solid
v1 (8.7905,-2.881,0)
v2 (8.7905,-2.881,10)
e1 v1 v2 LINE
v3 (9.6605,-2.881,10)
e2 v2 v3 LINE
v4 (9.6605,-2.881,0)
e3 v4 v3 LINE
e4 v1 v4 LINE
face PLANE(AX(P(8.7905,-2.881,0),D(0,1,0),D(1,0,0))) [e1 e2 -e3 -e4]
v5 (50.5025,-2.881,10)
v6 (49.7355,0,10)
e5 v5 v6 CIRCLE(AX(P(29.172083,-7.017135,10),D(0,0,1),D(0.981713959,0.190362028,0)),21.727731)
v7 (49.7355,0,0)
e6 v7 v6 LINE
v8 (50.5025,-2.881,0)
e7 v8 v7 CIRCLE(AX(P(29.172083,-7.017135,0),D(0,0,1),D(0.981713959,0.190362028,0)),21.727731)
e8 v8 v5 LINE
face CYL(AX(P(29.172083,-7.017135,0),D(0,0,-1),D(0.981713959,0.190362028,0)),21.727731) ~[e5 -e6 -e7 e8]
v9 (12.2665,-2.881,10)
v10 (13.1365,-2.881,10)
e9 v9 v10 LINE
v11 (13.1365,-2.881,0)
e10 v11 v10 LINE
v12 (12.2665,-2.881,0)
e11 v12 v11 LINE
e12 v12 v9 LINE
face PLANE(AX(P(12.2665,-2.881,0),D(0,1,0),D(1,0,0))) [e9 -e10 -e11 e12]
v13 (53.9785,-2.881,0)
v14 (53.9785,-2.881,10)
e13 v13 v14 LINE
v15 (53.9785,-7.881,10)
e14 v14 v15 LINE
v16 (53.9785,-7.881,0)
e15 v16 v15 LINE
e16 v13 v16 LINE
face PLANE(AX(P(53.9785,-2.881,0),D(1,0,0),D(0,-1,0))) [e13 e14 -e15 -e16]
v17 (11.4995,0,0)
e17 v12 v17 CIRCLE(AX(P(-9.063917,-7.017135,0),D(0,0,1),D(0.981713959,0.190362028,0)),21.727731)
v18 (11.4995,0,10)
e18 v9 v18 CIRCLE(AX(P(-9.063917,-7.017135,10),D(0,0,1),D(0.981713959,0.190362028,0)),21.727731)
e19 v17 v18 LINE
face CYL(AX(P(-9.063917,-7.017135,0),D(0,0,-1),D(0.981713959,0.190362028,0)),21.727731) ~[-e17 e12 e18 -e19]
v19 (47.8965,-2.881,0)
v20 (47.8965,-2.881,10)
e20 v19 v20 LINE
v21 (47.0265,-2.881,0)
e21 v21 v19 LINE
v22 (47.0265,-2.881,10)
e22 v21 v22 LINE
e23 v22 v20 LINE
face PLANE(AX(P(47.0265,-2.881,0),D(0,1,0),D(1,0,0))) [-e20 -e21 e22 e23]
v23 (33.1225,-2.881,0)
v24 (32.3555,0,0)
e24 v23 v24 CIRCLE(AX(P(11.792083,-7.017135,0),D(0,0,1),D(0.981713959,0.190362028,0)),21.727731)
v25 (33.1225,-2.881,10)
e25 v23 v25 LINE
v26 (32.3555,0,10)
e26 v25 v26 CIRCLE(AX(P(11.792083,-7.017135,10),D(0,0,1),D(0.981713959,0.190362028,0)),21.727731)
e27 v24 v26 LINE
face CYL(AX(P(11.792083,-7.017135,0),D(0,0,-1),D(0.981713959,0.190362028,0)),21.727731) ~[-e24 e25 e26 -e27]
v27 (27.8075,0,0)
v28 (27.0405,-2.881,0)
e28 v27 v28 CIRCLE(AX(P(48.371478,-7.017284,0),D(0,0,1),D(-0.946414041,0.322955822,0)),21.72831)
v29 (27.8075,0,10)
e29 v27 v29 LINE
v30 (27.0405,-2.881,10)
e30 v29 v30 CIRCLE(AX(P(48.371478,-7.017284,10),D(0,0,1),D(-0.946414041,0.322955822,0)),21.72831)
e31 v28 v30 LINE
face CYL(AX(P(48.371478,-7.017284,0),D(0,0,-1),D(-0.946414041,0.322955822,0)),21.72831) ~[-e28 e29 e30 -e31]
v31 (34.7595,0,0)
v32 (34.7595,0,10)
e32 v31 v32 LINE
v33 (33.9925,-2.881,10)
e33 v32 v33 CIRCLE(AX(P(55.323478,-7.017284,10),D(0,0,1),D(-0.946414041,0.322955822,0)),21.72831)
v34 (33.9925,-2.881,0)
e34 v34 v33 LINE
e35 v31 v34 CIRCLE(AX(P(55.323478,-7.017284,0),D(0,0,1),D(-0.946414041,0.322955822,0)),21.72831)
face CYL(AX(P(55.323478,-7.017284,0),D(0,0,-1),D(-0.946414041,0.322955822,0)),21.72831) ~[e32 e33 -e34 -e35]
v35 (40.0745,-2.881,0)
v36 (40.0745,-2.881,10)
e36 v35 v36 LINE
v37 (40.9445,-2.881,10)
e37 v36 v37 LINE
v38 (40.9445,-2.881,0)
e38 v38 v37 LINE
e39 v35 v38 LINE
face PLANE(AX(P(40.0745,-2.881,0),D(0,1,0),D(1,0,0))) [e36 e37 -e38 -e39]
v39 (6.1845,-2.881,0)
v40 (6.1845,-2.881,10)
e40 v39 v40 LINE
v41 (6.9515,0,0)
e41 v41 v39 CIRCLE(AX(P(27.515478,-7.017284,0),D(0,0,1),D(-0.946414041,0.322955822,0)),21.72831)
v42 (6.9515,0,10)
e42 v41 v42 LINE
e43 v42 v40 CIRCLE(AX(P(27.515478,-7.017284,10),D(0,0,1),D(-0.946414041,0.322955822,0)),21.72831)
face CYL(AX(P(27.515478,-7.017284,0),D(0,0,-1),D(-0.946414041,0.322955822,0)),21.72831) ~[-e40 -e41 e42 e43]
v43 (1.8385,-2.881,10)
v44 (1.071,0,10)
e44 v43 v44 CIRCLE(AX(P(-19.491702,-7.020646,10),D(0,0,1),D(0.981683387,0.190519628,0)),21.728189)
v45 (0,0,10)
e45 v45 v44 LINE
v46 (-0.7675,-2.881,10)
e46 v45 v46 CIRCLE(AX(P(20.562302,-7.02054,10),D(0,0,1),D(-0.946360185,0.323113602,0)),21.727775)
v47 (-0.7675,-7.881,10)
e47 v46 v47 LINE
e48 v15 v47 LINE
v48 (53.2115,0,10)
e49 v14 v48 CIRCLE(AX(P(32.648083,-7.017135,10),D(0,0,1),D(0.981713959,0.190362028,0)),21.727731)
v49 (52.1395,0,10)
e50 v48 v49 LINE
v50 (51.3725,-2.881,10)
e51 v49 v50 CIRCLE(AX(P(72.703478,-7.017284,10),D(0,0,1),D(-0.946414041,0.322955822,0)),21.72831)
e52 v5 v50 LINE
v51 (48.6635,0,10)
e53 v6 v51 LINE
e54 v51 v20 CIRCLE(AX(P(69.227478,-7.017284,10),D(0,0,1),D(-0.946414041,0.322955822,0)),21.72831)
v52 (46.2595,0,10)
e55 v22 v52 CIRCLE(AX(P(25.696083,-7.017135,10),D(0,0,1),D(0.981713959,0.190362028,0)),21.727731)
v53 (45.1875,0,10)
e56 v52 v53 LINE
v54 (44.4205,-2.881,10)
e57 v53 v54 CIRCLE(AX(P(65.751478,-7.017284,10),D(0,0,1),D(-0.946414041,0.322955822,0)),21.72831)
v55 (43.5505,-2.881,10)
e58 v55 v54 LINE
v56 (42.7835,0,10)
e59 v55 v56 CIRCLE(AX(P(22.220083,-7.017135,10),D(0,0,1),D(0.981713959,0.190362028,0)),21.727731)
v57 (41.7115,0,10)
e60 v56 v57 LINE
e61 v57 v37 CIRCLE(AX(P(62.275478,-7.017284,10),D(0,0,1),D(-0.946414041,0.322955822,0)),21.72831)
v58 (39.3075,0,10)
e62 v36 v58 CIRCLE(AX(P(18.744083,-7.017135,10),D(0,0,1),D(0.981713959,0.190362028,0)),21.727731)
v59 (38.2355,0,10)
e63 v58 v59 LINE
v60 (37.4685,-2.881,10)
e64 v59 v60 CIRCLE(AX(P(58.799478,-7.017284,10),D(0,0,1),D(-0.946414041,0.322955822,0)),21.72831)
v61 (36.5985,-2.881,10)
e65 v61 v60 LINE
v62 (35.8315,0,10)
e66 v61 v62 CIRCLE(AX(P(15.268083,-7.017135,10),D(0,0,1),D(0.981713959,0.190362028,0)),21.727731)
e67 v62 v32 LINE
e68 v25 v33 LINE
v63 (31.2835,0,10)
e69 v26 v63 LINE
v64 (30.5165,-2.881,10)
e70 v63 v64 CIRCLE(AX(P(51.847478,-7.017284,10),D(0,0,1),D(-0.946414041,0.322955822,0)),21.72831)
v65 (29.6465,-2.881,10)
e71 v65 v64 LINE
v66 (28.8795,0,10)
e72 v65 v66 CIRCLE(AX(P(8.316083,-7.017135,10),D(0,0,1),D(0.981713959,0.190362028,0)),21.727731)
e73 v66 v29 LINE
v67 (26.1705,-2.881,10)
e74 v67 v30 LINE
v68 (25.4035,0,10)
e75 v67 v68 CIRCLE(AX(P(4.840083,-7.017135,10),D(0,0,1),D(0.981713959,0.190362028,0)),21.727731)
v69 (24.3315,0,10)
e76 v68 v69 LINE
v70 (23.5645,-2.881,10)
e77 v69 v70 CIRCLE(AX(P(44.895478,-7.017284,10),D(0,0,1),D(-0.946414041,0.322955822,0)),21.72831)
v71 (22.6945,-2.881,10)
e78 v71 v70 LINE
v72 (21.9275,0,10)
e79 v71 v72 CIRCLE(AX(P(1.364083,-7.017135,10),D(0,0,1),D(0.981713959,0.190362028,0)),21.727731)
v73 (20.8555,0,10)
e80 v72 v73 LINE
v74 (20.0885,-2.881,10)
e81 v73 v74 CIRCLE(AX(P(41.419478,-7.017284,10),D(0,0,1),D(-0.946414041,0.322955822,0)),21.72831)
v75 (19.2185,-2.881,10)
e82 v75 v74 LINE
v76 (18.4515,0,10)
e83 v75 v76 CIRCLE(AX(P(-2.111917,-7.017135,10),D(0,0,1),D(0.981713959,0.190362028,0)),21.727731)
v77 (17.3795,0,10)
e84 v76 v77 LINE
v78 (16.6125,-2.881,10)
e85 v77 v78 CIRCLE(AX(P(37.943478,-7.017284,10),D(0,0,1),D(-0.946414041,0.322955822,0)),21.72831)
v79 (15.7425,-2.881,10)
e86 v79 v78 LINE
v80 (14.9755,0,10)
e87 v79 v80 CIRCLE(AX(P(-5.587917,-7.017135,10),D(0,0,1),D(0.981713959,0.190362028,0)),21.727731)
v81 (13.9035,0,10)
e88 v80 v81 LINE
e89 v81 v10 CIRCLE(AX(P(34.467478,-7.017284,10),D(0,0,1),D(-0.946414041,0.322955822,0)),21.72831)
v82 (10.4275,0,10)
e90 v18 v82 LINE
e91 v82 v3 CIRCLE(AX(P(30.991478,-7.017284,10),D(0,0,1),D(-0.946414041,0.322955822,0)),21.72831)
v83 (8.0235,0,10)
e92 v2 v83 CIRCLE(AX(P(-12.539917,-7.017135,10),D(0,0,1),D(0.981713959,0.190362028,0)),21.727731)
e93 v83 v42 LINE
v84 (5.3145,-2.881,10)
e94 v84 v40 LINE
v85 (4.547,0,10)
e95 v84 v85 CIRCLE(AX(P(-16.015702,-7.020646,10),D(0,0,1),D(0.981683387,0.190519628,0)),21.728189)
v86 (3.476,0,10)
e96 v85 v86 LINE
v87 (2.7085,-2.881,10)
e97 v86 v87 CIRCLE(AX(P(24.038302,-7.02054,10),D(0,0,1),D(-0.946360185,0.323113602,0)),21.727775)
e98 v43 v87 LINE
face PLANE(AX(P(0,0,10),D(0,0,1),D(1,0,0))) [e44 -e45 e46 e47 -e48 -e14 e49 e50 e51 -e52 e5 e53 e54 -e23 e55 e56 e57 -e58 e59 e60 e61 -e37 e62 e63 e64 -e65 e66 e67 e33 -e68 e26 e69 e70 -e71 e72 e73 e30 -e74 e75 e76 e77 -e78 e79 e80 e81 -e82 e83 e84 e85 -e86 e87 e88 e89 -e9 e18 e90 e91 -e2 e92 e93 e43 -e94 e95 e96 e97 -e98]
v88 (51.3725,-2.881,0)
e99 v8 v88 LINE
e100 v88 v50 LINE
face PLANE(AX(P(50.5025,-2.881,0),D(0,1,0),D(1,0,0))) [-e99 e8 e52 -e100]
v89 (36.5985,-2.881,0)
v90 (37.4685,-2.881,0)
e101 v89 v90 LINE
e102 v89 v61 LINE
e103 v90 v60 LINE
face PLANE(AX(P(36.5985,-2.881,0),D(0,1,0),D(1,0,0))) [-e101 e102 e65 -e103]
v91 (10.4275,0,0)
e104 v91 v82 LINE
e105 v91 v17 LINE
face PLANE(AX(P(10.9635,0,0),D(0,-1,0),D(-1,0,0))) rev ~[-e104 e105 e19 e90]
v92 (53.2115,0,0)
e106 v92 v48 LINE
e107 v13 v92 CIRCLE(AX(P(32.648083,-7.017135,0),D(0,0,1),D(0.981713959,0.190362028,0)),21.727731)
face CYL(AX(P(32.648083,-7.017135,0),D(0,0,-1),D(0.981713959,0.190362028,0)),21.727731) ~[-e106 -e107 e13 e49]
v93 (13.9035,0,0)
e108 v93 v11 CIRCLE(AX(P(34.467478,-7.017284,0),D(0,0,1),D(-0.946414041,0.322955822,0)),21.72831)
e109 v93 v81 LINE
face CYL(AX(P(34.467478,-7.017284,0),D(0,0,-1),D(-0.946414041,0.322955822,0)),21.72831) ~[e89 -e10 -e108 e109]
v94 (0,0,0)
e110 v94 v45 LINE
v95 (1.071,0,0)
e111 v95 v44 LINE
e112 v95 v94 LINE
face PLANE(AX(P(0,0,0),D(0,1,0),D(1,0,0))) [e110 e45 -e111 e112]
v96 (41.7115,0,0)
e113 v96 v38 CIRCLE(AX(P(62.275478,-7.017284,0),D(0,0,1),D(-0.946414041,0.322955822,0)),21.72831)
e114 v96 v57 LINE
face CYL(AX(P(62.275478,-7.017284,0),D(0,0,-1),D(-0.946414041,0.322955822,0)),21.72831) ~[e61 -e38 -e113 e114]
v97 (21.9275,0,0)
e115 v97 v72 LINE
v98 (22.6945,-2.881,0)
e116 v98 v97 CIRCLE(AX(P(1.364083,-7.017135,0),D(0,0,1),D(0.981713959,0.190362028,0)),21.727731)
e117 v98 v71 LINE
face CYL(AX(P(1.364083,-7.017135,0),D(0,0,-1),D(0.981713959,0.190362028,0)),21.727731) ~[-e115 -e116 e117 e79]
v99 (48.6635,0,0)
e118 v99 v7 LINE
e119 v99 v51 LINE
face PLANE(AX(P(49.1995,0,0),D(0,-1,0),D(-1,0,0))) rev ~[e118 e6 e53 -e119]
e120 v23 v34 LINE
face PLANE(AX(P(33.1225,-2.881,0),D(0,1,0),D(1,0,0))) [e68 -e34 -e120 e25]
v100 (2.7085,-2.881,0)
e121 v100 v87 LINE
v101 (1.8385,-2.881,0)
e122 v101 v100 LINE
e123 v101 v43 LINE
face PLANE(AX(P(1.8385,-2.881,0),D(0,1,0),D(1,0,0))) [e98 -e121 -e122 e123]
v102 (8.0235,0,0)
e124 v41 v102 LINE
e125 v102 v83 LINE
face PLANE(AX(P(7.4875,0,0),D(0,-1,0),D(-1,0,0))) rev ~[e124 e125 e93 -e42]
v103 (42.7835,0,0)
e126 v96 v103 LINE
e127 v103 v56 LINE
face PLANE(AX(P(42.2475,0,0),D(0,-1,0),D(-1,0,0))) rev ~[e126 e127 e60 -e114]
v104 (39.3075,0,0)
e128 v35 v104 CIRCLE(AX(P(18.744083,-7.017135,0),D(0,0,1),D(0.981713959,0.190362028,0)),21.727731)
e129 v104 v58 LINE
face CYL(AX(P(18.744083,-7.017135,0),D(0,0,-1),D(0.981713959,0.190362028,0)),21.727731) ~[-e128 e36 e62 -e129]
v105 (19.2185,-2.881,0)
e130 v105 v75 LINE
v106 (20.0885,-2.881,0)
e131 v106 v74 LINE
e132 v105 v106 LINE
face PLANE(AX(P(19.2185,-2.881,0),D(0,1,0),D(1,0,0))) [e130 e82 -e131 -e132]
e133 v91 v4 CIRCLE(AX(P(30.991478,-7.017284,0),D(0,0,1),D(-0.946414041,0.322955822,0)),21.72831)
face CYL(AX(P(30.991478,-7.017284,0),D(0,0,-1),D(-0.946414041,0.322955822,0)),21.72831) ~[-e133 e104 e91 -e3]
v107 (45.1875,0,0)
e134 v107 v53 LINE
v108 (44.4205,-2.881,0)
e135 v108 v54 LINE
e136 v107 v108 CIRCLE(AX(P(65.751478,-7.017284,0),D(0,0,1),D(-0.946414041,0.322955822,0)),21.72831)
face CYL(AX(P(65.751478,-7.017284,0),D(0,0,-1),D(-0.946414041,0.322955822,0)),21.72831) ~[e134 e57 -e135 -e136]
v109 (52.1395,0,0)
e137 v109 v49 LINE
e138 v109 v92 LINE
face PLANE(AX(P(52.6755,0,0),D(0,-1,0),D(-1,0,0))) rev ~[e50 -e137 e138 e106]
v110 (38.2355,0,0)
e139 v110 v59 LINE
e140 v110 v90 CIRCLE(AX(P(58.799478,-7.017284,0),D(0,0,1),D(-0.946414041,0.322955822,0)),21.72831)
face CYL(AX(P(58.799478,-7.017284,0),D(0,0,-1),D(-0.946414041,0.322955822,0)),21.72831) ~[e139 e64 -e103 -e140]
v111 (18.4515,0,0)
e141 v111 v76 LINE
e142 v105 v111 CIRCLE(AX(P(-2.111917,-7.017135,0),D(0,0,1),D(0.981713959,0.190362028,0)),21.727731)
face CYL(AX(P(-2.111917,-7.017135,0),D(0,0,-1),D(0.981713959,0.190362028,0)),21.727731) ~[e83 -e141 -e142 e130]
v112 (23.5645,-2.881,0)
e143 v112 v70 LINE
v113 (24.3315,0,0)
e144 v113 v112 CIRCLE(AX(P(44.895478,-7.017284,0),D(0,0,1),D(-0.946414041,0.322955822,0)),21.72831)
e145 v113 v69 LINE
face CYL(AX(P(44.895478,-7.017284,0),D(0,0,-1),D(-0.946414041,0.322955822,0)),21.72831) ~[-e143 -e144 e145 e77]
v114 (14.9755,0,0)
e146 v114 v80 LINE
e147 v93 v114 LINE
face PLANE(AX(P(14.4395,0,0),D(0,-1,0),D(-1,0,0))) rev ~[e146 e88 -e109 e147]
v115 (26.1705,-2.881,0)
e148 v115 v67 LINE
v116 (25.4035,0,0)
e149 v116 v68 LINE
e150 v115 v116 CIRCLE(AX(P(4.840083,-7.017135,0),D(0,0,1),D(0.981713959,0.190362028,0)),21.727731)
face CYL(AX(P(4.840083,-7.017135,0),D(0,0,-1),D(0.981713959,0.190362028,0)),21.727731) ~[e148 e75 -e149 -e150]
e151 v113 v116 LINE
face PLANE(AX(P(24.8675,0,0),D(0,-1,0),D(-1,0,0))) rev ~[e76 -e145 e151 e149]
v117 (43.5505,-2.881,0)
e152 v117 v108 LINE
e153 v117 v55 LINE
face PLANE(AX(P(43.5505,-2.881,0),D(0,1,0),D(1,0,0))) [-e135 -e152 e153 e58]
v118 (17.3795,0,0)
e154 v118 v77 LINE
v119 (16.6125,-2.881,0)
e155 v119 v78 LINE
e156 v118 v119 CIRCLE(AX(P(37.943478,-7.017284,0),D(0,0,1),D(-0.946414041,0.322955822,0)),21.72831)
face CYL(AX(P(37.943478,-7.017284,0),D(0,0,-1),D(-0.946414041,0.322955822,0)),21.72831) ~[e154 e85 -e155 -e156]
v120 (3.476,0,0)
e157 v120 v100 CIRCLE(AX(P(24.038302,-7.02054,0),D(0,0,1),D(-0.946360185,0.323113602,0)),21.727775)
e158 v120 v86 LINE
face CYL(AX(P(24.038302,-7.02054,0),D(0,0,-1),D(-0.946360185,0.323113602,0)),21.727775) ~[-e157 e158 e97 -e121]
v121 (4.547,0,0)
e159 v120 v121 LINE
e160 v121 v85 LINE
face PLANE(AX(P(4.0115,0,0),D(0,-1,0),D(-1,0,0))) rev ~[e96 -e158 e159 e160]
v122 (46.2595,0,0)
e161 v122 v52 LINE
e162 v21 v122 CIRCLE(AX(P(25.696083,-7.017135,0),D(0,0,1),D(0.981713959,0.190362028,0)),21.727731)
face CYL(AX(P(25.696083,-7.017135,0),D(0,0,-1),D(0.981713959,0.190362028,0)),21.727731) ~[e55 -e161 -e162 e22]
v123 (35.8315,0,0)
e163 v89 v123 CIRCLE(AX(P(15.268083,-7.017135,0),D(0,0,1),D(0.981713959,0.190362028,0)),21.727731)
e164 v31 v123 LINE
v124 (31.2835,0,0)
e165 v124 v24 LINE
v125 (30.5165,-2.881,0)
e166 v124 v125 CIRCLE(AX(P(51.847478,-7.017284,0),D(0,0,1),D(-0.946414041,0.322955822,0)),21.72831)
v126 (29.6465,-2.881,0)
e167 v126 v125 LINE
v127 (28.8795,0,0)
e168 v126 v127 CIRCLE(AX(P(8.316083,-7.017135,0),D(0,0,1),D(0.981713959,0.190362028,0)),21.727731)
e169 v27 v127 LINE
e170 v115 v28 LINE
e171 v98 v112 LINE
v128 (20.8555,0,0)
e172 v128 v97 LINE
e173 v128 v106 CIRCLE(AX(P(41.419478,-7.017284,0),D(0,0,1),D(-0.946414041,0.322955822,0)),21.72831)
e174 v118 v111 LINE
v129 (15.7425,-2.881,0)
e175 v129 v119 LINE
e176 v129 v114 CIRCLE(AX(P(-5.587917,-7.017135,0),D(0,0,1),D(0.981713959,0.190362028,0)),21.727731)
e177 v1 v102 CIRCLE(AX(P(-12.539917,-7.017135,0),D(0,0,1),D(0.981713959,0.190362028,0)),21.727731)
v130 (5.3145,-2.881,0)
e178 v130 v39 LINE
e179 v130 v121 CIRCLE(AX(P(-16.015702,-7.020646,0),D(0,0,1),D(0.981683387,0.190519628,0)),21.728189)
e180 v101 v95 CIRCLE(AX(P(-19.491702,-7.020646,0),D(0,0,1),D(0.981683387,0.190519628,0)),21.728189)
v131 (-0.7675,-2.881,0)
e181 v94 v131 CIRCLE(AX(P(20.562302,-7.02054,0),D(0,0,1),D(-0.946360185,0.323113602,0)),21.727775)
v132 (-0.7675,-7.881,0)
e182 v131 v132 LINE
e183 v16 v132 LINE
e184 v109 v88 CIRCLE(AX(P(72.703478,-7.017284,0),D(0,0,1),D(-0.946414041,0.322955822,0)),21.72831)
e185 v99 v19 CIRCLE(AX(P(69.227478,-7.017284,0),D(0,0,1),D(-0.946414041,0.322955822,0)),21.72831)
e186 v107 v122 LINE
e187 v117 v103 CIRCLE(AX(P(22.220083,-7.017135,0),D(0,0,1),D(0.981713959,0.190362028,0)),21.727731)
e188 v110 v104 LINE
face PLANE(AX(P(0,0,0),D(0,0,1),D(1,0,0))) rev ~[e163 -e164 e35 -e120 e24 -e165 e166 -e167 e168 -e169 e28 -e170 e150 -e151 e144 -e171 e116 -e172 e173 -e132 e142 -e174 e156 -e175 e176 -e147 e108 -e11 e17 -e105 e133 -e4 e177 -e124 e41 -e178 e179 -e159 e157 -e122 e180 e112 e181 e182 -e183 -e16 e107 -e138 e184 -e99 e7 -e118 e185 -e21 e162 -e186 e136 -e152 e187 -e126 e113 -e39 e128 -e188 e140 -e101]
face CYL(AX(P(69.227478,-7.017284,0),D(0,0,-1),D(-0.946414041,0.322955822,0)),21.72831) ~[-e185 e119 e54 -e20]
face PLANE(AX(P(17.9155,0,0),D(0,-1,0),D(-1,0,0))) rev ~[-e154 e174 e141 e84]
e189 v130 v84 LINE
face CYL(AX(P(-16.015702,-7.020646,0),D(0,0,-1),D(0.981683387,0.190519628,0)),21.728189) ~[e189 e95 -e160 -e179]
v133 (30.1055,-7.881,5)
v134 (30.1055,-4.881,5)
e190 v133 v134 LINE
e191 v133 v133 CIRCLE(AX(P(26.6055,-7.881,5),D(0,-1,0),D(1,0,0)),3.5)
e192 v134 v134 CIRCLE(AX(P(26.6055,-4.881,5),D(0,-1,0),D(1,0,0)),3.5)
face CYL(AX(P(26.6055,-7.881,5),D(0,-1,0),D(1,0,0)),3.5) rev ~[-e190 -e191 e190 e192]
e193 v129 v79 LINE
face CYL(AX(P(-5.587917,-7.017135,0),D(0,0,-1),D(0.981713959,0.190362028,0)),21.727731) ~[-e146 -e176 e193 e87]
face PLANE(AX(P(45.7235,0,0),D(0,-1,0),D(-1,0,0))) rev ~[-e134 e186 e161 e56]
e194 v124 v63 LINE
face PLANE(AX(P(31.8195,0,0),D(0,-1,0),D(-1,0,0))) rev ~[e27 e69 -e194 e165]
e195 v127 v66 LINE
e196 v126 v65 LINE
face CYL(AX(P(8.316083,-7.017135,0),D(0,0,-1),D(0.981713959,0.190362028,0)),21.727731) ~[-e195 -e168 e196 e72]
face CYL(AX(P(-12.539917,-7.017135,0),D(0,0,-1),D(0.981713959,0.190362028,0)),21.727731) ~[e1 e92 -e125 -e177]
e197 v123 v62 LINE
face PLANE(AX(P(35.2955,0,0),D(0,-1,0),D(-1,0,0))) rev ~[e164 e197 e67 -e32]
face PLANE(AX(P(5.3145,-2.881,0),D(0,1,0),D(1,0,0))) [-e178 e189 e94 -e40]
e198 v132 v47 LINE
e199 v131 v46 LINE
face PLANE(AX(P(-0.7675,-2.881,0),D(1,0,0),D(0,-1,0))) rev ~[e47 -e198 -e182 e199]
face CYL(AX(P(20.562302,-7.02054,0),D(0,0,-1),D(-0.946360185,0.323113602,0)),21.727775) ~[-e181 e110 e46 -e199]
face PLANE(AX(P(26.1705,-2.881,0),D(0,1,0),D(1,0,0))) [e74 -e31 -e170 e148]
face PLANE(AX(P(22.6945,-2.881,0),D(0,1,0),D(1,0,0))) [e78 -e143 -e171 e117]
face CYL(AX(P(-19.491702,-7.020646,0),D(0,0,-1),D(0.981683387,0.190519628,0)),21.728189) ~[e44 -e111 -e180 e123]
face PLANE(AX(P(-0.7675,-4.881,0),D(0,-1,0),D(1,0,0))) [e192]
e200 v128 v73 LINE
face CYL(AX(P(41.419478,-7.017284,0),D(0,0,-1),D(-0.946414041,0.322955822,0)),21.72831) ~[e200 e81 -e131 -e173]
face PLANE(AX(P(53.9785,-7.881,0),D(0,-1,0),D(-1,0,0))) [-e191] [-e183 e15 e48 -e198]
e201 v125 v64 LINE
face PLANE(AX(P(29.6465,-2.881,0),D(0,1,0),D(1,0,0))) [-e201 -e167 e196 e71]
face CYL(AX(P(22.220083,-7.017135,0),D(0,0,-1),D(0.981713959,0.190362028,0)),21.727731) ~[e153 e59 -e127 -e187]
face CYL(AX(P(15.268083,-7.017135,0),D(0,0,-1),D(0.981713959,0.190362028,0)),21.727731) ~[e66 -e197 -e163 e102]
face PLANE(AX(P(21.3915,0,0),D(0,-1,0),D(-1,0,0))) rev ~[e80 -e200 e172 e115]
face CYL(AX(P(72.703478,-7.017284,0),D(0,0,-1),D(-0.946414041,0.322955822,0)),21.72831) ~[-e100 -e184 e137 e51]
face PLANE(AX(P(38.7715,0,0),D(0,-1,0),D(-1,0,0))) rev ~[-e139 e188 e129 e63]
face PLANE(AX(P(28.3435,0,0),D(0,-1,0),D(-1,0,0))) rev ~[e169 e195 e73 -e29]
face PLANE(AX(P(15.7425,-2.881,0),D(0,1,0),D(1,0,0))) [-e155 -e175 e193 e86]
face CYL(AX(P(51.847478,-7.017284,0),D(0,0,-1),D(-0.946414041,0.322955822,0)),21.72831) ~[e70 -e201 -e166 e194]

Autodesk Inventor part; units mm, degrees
ref_plane "YZ Plane" through (0, 0, 0) normal (1, 0, 0) x (0, 1, 0)
ref_plane "XZ Plane" through (0, 0, 0) normal (0, 1, 0) x (-1, 0, 0)
ref_plane "XY Plane" through (0, 0, 0) normal (0, 0, 1) x (1, 0, 0)
sketch "Sketch1" plane through (0, 0, 0) normal (0, 0, 1) x (1, 0, 0)
  line L0 (0, 0) -> (1.071, 0)
  line L1 (0.5355, 0) -> (0.5355, -2.881)
  line L2 (0.5355, -2.881) -> (1.8385, -2.881)
  line L3 (1.8385, -2.881) -> (0.5355, -2.881)
  line L4 (0.5355, -2.881) -> (-0.7675, -2.881)
  arc A0 (0, 0) -> (-0.7675, -2.881) centre (20.5625, -7.0206) ccw
  arc A1 (1.8385, -2.881) -> (1.071, 0) centre (-19.4915, -7.0206) ccw
  line L5 (1.8385, -2.881) -> (2.7085, -2.881)
  line L6 (2.7085, -2.881) -> (5.3145, -2.881)
  line L7 (4.0115, -2.881) -> (4.0115, 0)
  line L8 (4.0115, 0) -> (3.476, 0)
  line L9 (4.0115, 0) -> (4.547, 0)
  arc A2 (3.476, 0) -> (2.7085, -2.881) centre (24.0385, -7.0206) ccw
  arc A3 (5.3145, -2.881) -> (4.547, 0) centre (-16.0155, -7.0206) ccw
  line L10 (5.3145, -2.881) -> (6.1845, -2.881)
  line L11 (6.1845, -2.881) -> (8.7905, -2.881)
  line L12 (7.4875, -2.881) -> (7.4875, 0)
  line L13 (7.4875, 0) -> (6.9515, 0)
  line L14 (7.4875, 0) -> (8.0235, 0)
  arc A4 (6.9515, 0) -> (6.1845, -2.881) centre (27.5152, -7.0172) ccw
  arc A5 (8.7905, -2.881) -> (8.0235, 0) centre (-12.5402, -7.0172) ccw
  line L15 (8.7905, -2.881) -> (9.6605, -2.881)
  line L16 (9.6605, -2.881) -> (12.2665, -2.881)
  line L17 (10.9635, -2.881) -> (10.9635, 0)
  line L18 (10.9635, 0) -> (10.4275, 0)
  line L19 (10.9635, 0) -> (11.4995, 0)
  arc A6 (10.4275, 0) -> (9.6605, -2.881) centre (30.9912, -7.0172) ccw
  arc A7 (12.2665, -2.881) -> (11.4995, 0) centre (-9.0642, -7.0172) ccw
  line L20 (-0.7675, -2.881) -> (-0.7675, -7.881)
  line L21 (12.2665, -2.881) -> (13.1365, -2.881)
  line L22 (13.1365, -2.881) -> (15.7425, -2.881)
  line L23 (14.4395, -2.881) -> (14.4395, 0)
  line L24 (14.4395, 0) -> (13.9035, 0)
  line L25 (14.4395, 0) -> (14.9755, 0)
  arc A8 (13.9035, 0) -> (13.1365, -2.881) centre (34.4672, -7.0172) ccw
  arc A9 (15.7425, -2.881) -> (14.9755, 0) centre (-5.5882, -7.0172) ccw
  line L26 (15.7425, -2.881) -> (16.6125, -2.881)
  line L27 (16.6125, -2.881) -> (19.2185, -2.881)
  line L28 (17.9155, -2.881) -> (17.9155, 0)
  line L29 (17.9155, 0) -> (17.3795, 0)
  line L30 (17.9155, 0) -> (18.4515, 0)
  arc A10 (17.3795, 0) -> (16.6125, -2.881) centre (37.9432, -7.0172) ccw
  arc A11 (19.2185, -2.881) -> (18.4515, 0) centre (-2.1122, -7.0172) ccw
  line L31 (19.2185, -2.881) -> (20.0885, -2.881)
  line L32 (20.0885, -2.881) -> (22.6945, -2.881)
  line L33 (21.3915, -2.881) -> (21.3915, 0)
  line L34 (21.3915, 0) -> (20.8555, 0)
  line L35 (21.3915, 0) -> (21.9275, 0)
  arc A12 (20.8555, 0) -> (20.0885, -2.881) centre (41.4192, -7.0172) ccw
  arc A13 (22.6945, -2.881) -> (21.9275, 0) centre (1.3638, -7.0172) ccw
  line L36 (22.6945, -2.881) -> (23.5645, -2.881)
  line L37 (23.5645, -2.881) -> (26.1705, -2.881)
  line L38 (24.8675, -2.881) -> (24.8675, 0)
  line L39 (24.8675, 0) -> (24.3315, 0)
  line L40 (24.8675, 0) -> (25.4035, 0)
  arc A14 (24.3315, 0) -> (23.5645, -2.881) centre (44.8952, -7.0172) ccw
  arc A15 (26.1705, -2.881) -> (25.4035, 0) centre (4.8398, -7.0172) ccw
  line L41 (26.1705, -2.881) -> (27.0405, -2.881)
  line L42 (27.0405, -2.881) -> (29.6465, -2.881)
  line L43 (29.6465, -2.881) -> (30.5165, -2.881)
  line L44 (30.5165, -2.881) -> (33.1225, -2.881)
  line L45 (33.1225, -2.881) -> (33.9925, -2.881)
  line L46 (33.9925, -2.881) -> (36.5985, -2.881)
  line L47 (36.5985, -2.881) -> (37.4685, -2.881)
  line L48 (37.4685, -2.881) -> (40.0745, -2.881)
  line L49 (40.0745, -2.881) -> (40.9445, -2.881)
  line L50 (40.9445, -2.881) -> (43.5505, -2.881)
  line L51 (43.5505, -2.881) -> (44.4205, -2.881)
  line L52 (44.4205, -2.881) -> (47.0265, -2.881)
  line L53 (47.0265, -2.881) -> (47.8965, -2.881)
  line L54 (47.8965, -2.881) -> (50.5025, -2.881)
  line L55 (50.5025, -2.881) -> (51.3725, -2.881)
  line L56 (51.3725, -2.881) -> (53.9785, -2.881)
  line L57 (53.9785, -2.881) -> (53.9785, -7.881)
  line L58 (53.9785, -7.881) -> (-0.7675, -7.881)
  line L59 (28.3435, -2.881) -> (28.3435, 0)
  line L60 (31.8195, -2.881) -> (31.8195, 0)
  line L61 (31.8195, 0) -> (31.2835, 0)
  line L62 (35.2955, -2.881) -> (35.2955, 0)
  line L63 (35.2955, 0) -> (34.7595, 0)
  line L64 (38.7715, -2.881) -> (38.7715, 0)
  line L65 (38.7715, 0) -> (38.2355, 0)
  line L66 (42.2475, -2.881) -> (42.2475, 0)
  line L67 (42.2475, 0) -> (41.7115, 0)
  line L68 (45.7235, -2.881) -> (45.7235, 0)
  line L69 (45.7235, 0) -> (45.1875, 0)
  line L70 (49.1995, -2.881) -> (49.1995, 0)
  line L71 (49.1995, 0) -> (48.6635, 0)
  line L72 (52.6755, -2.881) -> (52.6755, 0)
  line L73 (52.6755, 0) -> (52.1395, 0)
  line L74 (52.6755, 0) -> (53.2115, 0)
  line L75 (49.1995, 0) -> (49.7355, 0)
  line L76 (45.7235, 0) -> (46.2595, 0)
  line L77 (42.2475, 0) -> (42.7835, 0)
  line L78 (38.7715, 0) -> (39.3075, 0)
  line L79 (35.2955, 0) -> (35.8315, 0)
  line L80 (31.8195, 0) -> (32.3555, 0)
  line L81 (28.3435, 0) -> (28.8795, 0)
  line L82 (28.3435, 0) -> (27.8075, 0)
  arc A16 (27.8075, 0) -> (27.0405, -2.881) centre (48.3712, -7.0172) ccw
  arc A17 (29.6465, -2.881) -> (28.8795, 0) centre (8.3158, -7.0172) ccw
  arc A18 (31.2835, 0) -> (30.5165, -2.881) centre (51.8472, -7.0172) ccw
  arc A19 (33.1225, -2.881) -> (32.3555, 0) centre (11.7918, -7.0172) ccw
  arc A20 (34.7595, 0) -> (33.9925, -2.881) centre (55.3232, -7.0172) ccw
  arc A21 (36.5985, -2.881) -> (35.8315, 0) centre (15.2678, -7.0172) ccw
  arc A22 (38.2355, 0) -> (37.4685, -2.881) centre (58.7992, -7.0172) ccw
  arc A23 (40.0745, -2.881) -> (39.3075, 0) centre (18.7438, -7.0172) ccw
  arc A24 (41.7115, 0) -> (40.9445, -2.881) centre (62.2752, -7.0172) ccw
  arc A25 (43.5505, -2.881) -> (42.7835, 0) centre (22.2198, -7.0172) ccw
  arc A26 (45.1875, 0) -> (44.4205, -2.881) centre (65.7512, -7.0172) ccw
  arc A27 (47.0265, -2.881) -> (46.2595, 0) centre (25.6958, -7.0172) ccw
  arc A28 (48.6635, 0) -> (47.8965, -2.881) centre (69.2272, -7.0172) ccw
  arc A29 (50.5025, -2.881) -> (49.7355, 0) centre (29.1718, -7.0172) ccw
  arc A30 (52.1395, 0) -> (51.3725, -2.881) centre (72.7032, -7.0172) ccw
  arc A31 (53.9785, -2.881) -> (53.2115, 0) centre (32.6478, -7.0172) ccw
  dimension "d0" = 1.071
  dimension "d1" = 2.881
  dimension "d3" = 1.303
  dimension "d4" = 1.303
  dimension "d5" = 21.728
  dimension "d6" = 21.728
  dimension "d7" = 0.87
  dimension "d8" = 2.606
  dimension "d9" = 0.5355
  dimension "d10" = 0.5355
  dimension "d11" = 21.728
  dimension "d12" = 21.728
  dimension "d13" = 0.87
  dimension "d14" = 2.606
  dimension "d15" = 0.536
  dimension "d16" = 0.536
  dimension "d17" = 21.728
  dimension "d18" = 21.728
  dimension "d19" = 0.87
  dimension "d20" = 2.606
  dimension "d21" = 0.536
  dimension "d22" = 0.536
  dimension "d23" = 21.728
  dimension "d24" = 21.728
  dimension "d25" = 5
  dimension "d27" = 0.87
  dimension "d28" = 2.606
  dimension "d29" = 0.536
  dimension "d30" = 0.536
  dimension "d31" = 21.728
  dimension "d32" = 21.728
  dimension "d33" = 0.87
  dimension "d34" = 2.606
  dimension "d35" = 0.536
  dimension "d36" = 0.536
  dimension "d37" = 21.728
  dimension "d38" = 21.728
  dimension "d39" = 0.87
  dimension "d40" = 2.606
  dimension "d41" = 0.536
  dimension "d42" = 0.536
  dimension "d43" = 21.728
  dimension "d44" = 21.728
  dimension "d45" = 0.87
  dimension "d46" = 2.606
  dimension "d47" = 0.536
  dimension "d48" = 0.536
  dimension "d49" = 21.728
  dimension "d50" = 21.728
  dimension "d51" = 0.87
  dimension "d52" = 2.606
  dimension "d53" = 0.87
  dimension "d54" = 2.606
  dimension "d55" = 0.87
  dimension "d56" = 2.606
  dimension "d57" = 0.87
  dimension "d58" = 2.606
  dimension "d59" = 0.87
  dimension "d60" = 2.606
  dimension "d61" = 0.87
  dimension "d62" = 2.606
  dimension "d63" = 0.87
  dimension "d64" = 2.606
  dimension "d65" = 0.87
extrude "Extrusion1" add sketch "Sketch1" along normal blind 10
sketch "Sketch3" plane through (-0.7675, -7.881, 0) normal (0, -1, 0) x (1, 0, 0)
  circle A0 centre (27.373, 5) radius 3.5
  line L0 (54.746, 0) -> (54.746, 10) projected
  line L1 (0, 0) -> (54.746, 0) projected
  point P0 (0.7675, 0)
  dimension "d104" = 7
  dimension "d105" = 27.373
  dimension "d106" = 5
extrude "Extrusion3" cut sketch "Sketch3" against normal blind 3
properties part number "1p10 DP3 gear attachment"
